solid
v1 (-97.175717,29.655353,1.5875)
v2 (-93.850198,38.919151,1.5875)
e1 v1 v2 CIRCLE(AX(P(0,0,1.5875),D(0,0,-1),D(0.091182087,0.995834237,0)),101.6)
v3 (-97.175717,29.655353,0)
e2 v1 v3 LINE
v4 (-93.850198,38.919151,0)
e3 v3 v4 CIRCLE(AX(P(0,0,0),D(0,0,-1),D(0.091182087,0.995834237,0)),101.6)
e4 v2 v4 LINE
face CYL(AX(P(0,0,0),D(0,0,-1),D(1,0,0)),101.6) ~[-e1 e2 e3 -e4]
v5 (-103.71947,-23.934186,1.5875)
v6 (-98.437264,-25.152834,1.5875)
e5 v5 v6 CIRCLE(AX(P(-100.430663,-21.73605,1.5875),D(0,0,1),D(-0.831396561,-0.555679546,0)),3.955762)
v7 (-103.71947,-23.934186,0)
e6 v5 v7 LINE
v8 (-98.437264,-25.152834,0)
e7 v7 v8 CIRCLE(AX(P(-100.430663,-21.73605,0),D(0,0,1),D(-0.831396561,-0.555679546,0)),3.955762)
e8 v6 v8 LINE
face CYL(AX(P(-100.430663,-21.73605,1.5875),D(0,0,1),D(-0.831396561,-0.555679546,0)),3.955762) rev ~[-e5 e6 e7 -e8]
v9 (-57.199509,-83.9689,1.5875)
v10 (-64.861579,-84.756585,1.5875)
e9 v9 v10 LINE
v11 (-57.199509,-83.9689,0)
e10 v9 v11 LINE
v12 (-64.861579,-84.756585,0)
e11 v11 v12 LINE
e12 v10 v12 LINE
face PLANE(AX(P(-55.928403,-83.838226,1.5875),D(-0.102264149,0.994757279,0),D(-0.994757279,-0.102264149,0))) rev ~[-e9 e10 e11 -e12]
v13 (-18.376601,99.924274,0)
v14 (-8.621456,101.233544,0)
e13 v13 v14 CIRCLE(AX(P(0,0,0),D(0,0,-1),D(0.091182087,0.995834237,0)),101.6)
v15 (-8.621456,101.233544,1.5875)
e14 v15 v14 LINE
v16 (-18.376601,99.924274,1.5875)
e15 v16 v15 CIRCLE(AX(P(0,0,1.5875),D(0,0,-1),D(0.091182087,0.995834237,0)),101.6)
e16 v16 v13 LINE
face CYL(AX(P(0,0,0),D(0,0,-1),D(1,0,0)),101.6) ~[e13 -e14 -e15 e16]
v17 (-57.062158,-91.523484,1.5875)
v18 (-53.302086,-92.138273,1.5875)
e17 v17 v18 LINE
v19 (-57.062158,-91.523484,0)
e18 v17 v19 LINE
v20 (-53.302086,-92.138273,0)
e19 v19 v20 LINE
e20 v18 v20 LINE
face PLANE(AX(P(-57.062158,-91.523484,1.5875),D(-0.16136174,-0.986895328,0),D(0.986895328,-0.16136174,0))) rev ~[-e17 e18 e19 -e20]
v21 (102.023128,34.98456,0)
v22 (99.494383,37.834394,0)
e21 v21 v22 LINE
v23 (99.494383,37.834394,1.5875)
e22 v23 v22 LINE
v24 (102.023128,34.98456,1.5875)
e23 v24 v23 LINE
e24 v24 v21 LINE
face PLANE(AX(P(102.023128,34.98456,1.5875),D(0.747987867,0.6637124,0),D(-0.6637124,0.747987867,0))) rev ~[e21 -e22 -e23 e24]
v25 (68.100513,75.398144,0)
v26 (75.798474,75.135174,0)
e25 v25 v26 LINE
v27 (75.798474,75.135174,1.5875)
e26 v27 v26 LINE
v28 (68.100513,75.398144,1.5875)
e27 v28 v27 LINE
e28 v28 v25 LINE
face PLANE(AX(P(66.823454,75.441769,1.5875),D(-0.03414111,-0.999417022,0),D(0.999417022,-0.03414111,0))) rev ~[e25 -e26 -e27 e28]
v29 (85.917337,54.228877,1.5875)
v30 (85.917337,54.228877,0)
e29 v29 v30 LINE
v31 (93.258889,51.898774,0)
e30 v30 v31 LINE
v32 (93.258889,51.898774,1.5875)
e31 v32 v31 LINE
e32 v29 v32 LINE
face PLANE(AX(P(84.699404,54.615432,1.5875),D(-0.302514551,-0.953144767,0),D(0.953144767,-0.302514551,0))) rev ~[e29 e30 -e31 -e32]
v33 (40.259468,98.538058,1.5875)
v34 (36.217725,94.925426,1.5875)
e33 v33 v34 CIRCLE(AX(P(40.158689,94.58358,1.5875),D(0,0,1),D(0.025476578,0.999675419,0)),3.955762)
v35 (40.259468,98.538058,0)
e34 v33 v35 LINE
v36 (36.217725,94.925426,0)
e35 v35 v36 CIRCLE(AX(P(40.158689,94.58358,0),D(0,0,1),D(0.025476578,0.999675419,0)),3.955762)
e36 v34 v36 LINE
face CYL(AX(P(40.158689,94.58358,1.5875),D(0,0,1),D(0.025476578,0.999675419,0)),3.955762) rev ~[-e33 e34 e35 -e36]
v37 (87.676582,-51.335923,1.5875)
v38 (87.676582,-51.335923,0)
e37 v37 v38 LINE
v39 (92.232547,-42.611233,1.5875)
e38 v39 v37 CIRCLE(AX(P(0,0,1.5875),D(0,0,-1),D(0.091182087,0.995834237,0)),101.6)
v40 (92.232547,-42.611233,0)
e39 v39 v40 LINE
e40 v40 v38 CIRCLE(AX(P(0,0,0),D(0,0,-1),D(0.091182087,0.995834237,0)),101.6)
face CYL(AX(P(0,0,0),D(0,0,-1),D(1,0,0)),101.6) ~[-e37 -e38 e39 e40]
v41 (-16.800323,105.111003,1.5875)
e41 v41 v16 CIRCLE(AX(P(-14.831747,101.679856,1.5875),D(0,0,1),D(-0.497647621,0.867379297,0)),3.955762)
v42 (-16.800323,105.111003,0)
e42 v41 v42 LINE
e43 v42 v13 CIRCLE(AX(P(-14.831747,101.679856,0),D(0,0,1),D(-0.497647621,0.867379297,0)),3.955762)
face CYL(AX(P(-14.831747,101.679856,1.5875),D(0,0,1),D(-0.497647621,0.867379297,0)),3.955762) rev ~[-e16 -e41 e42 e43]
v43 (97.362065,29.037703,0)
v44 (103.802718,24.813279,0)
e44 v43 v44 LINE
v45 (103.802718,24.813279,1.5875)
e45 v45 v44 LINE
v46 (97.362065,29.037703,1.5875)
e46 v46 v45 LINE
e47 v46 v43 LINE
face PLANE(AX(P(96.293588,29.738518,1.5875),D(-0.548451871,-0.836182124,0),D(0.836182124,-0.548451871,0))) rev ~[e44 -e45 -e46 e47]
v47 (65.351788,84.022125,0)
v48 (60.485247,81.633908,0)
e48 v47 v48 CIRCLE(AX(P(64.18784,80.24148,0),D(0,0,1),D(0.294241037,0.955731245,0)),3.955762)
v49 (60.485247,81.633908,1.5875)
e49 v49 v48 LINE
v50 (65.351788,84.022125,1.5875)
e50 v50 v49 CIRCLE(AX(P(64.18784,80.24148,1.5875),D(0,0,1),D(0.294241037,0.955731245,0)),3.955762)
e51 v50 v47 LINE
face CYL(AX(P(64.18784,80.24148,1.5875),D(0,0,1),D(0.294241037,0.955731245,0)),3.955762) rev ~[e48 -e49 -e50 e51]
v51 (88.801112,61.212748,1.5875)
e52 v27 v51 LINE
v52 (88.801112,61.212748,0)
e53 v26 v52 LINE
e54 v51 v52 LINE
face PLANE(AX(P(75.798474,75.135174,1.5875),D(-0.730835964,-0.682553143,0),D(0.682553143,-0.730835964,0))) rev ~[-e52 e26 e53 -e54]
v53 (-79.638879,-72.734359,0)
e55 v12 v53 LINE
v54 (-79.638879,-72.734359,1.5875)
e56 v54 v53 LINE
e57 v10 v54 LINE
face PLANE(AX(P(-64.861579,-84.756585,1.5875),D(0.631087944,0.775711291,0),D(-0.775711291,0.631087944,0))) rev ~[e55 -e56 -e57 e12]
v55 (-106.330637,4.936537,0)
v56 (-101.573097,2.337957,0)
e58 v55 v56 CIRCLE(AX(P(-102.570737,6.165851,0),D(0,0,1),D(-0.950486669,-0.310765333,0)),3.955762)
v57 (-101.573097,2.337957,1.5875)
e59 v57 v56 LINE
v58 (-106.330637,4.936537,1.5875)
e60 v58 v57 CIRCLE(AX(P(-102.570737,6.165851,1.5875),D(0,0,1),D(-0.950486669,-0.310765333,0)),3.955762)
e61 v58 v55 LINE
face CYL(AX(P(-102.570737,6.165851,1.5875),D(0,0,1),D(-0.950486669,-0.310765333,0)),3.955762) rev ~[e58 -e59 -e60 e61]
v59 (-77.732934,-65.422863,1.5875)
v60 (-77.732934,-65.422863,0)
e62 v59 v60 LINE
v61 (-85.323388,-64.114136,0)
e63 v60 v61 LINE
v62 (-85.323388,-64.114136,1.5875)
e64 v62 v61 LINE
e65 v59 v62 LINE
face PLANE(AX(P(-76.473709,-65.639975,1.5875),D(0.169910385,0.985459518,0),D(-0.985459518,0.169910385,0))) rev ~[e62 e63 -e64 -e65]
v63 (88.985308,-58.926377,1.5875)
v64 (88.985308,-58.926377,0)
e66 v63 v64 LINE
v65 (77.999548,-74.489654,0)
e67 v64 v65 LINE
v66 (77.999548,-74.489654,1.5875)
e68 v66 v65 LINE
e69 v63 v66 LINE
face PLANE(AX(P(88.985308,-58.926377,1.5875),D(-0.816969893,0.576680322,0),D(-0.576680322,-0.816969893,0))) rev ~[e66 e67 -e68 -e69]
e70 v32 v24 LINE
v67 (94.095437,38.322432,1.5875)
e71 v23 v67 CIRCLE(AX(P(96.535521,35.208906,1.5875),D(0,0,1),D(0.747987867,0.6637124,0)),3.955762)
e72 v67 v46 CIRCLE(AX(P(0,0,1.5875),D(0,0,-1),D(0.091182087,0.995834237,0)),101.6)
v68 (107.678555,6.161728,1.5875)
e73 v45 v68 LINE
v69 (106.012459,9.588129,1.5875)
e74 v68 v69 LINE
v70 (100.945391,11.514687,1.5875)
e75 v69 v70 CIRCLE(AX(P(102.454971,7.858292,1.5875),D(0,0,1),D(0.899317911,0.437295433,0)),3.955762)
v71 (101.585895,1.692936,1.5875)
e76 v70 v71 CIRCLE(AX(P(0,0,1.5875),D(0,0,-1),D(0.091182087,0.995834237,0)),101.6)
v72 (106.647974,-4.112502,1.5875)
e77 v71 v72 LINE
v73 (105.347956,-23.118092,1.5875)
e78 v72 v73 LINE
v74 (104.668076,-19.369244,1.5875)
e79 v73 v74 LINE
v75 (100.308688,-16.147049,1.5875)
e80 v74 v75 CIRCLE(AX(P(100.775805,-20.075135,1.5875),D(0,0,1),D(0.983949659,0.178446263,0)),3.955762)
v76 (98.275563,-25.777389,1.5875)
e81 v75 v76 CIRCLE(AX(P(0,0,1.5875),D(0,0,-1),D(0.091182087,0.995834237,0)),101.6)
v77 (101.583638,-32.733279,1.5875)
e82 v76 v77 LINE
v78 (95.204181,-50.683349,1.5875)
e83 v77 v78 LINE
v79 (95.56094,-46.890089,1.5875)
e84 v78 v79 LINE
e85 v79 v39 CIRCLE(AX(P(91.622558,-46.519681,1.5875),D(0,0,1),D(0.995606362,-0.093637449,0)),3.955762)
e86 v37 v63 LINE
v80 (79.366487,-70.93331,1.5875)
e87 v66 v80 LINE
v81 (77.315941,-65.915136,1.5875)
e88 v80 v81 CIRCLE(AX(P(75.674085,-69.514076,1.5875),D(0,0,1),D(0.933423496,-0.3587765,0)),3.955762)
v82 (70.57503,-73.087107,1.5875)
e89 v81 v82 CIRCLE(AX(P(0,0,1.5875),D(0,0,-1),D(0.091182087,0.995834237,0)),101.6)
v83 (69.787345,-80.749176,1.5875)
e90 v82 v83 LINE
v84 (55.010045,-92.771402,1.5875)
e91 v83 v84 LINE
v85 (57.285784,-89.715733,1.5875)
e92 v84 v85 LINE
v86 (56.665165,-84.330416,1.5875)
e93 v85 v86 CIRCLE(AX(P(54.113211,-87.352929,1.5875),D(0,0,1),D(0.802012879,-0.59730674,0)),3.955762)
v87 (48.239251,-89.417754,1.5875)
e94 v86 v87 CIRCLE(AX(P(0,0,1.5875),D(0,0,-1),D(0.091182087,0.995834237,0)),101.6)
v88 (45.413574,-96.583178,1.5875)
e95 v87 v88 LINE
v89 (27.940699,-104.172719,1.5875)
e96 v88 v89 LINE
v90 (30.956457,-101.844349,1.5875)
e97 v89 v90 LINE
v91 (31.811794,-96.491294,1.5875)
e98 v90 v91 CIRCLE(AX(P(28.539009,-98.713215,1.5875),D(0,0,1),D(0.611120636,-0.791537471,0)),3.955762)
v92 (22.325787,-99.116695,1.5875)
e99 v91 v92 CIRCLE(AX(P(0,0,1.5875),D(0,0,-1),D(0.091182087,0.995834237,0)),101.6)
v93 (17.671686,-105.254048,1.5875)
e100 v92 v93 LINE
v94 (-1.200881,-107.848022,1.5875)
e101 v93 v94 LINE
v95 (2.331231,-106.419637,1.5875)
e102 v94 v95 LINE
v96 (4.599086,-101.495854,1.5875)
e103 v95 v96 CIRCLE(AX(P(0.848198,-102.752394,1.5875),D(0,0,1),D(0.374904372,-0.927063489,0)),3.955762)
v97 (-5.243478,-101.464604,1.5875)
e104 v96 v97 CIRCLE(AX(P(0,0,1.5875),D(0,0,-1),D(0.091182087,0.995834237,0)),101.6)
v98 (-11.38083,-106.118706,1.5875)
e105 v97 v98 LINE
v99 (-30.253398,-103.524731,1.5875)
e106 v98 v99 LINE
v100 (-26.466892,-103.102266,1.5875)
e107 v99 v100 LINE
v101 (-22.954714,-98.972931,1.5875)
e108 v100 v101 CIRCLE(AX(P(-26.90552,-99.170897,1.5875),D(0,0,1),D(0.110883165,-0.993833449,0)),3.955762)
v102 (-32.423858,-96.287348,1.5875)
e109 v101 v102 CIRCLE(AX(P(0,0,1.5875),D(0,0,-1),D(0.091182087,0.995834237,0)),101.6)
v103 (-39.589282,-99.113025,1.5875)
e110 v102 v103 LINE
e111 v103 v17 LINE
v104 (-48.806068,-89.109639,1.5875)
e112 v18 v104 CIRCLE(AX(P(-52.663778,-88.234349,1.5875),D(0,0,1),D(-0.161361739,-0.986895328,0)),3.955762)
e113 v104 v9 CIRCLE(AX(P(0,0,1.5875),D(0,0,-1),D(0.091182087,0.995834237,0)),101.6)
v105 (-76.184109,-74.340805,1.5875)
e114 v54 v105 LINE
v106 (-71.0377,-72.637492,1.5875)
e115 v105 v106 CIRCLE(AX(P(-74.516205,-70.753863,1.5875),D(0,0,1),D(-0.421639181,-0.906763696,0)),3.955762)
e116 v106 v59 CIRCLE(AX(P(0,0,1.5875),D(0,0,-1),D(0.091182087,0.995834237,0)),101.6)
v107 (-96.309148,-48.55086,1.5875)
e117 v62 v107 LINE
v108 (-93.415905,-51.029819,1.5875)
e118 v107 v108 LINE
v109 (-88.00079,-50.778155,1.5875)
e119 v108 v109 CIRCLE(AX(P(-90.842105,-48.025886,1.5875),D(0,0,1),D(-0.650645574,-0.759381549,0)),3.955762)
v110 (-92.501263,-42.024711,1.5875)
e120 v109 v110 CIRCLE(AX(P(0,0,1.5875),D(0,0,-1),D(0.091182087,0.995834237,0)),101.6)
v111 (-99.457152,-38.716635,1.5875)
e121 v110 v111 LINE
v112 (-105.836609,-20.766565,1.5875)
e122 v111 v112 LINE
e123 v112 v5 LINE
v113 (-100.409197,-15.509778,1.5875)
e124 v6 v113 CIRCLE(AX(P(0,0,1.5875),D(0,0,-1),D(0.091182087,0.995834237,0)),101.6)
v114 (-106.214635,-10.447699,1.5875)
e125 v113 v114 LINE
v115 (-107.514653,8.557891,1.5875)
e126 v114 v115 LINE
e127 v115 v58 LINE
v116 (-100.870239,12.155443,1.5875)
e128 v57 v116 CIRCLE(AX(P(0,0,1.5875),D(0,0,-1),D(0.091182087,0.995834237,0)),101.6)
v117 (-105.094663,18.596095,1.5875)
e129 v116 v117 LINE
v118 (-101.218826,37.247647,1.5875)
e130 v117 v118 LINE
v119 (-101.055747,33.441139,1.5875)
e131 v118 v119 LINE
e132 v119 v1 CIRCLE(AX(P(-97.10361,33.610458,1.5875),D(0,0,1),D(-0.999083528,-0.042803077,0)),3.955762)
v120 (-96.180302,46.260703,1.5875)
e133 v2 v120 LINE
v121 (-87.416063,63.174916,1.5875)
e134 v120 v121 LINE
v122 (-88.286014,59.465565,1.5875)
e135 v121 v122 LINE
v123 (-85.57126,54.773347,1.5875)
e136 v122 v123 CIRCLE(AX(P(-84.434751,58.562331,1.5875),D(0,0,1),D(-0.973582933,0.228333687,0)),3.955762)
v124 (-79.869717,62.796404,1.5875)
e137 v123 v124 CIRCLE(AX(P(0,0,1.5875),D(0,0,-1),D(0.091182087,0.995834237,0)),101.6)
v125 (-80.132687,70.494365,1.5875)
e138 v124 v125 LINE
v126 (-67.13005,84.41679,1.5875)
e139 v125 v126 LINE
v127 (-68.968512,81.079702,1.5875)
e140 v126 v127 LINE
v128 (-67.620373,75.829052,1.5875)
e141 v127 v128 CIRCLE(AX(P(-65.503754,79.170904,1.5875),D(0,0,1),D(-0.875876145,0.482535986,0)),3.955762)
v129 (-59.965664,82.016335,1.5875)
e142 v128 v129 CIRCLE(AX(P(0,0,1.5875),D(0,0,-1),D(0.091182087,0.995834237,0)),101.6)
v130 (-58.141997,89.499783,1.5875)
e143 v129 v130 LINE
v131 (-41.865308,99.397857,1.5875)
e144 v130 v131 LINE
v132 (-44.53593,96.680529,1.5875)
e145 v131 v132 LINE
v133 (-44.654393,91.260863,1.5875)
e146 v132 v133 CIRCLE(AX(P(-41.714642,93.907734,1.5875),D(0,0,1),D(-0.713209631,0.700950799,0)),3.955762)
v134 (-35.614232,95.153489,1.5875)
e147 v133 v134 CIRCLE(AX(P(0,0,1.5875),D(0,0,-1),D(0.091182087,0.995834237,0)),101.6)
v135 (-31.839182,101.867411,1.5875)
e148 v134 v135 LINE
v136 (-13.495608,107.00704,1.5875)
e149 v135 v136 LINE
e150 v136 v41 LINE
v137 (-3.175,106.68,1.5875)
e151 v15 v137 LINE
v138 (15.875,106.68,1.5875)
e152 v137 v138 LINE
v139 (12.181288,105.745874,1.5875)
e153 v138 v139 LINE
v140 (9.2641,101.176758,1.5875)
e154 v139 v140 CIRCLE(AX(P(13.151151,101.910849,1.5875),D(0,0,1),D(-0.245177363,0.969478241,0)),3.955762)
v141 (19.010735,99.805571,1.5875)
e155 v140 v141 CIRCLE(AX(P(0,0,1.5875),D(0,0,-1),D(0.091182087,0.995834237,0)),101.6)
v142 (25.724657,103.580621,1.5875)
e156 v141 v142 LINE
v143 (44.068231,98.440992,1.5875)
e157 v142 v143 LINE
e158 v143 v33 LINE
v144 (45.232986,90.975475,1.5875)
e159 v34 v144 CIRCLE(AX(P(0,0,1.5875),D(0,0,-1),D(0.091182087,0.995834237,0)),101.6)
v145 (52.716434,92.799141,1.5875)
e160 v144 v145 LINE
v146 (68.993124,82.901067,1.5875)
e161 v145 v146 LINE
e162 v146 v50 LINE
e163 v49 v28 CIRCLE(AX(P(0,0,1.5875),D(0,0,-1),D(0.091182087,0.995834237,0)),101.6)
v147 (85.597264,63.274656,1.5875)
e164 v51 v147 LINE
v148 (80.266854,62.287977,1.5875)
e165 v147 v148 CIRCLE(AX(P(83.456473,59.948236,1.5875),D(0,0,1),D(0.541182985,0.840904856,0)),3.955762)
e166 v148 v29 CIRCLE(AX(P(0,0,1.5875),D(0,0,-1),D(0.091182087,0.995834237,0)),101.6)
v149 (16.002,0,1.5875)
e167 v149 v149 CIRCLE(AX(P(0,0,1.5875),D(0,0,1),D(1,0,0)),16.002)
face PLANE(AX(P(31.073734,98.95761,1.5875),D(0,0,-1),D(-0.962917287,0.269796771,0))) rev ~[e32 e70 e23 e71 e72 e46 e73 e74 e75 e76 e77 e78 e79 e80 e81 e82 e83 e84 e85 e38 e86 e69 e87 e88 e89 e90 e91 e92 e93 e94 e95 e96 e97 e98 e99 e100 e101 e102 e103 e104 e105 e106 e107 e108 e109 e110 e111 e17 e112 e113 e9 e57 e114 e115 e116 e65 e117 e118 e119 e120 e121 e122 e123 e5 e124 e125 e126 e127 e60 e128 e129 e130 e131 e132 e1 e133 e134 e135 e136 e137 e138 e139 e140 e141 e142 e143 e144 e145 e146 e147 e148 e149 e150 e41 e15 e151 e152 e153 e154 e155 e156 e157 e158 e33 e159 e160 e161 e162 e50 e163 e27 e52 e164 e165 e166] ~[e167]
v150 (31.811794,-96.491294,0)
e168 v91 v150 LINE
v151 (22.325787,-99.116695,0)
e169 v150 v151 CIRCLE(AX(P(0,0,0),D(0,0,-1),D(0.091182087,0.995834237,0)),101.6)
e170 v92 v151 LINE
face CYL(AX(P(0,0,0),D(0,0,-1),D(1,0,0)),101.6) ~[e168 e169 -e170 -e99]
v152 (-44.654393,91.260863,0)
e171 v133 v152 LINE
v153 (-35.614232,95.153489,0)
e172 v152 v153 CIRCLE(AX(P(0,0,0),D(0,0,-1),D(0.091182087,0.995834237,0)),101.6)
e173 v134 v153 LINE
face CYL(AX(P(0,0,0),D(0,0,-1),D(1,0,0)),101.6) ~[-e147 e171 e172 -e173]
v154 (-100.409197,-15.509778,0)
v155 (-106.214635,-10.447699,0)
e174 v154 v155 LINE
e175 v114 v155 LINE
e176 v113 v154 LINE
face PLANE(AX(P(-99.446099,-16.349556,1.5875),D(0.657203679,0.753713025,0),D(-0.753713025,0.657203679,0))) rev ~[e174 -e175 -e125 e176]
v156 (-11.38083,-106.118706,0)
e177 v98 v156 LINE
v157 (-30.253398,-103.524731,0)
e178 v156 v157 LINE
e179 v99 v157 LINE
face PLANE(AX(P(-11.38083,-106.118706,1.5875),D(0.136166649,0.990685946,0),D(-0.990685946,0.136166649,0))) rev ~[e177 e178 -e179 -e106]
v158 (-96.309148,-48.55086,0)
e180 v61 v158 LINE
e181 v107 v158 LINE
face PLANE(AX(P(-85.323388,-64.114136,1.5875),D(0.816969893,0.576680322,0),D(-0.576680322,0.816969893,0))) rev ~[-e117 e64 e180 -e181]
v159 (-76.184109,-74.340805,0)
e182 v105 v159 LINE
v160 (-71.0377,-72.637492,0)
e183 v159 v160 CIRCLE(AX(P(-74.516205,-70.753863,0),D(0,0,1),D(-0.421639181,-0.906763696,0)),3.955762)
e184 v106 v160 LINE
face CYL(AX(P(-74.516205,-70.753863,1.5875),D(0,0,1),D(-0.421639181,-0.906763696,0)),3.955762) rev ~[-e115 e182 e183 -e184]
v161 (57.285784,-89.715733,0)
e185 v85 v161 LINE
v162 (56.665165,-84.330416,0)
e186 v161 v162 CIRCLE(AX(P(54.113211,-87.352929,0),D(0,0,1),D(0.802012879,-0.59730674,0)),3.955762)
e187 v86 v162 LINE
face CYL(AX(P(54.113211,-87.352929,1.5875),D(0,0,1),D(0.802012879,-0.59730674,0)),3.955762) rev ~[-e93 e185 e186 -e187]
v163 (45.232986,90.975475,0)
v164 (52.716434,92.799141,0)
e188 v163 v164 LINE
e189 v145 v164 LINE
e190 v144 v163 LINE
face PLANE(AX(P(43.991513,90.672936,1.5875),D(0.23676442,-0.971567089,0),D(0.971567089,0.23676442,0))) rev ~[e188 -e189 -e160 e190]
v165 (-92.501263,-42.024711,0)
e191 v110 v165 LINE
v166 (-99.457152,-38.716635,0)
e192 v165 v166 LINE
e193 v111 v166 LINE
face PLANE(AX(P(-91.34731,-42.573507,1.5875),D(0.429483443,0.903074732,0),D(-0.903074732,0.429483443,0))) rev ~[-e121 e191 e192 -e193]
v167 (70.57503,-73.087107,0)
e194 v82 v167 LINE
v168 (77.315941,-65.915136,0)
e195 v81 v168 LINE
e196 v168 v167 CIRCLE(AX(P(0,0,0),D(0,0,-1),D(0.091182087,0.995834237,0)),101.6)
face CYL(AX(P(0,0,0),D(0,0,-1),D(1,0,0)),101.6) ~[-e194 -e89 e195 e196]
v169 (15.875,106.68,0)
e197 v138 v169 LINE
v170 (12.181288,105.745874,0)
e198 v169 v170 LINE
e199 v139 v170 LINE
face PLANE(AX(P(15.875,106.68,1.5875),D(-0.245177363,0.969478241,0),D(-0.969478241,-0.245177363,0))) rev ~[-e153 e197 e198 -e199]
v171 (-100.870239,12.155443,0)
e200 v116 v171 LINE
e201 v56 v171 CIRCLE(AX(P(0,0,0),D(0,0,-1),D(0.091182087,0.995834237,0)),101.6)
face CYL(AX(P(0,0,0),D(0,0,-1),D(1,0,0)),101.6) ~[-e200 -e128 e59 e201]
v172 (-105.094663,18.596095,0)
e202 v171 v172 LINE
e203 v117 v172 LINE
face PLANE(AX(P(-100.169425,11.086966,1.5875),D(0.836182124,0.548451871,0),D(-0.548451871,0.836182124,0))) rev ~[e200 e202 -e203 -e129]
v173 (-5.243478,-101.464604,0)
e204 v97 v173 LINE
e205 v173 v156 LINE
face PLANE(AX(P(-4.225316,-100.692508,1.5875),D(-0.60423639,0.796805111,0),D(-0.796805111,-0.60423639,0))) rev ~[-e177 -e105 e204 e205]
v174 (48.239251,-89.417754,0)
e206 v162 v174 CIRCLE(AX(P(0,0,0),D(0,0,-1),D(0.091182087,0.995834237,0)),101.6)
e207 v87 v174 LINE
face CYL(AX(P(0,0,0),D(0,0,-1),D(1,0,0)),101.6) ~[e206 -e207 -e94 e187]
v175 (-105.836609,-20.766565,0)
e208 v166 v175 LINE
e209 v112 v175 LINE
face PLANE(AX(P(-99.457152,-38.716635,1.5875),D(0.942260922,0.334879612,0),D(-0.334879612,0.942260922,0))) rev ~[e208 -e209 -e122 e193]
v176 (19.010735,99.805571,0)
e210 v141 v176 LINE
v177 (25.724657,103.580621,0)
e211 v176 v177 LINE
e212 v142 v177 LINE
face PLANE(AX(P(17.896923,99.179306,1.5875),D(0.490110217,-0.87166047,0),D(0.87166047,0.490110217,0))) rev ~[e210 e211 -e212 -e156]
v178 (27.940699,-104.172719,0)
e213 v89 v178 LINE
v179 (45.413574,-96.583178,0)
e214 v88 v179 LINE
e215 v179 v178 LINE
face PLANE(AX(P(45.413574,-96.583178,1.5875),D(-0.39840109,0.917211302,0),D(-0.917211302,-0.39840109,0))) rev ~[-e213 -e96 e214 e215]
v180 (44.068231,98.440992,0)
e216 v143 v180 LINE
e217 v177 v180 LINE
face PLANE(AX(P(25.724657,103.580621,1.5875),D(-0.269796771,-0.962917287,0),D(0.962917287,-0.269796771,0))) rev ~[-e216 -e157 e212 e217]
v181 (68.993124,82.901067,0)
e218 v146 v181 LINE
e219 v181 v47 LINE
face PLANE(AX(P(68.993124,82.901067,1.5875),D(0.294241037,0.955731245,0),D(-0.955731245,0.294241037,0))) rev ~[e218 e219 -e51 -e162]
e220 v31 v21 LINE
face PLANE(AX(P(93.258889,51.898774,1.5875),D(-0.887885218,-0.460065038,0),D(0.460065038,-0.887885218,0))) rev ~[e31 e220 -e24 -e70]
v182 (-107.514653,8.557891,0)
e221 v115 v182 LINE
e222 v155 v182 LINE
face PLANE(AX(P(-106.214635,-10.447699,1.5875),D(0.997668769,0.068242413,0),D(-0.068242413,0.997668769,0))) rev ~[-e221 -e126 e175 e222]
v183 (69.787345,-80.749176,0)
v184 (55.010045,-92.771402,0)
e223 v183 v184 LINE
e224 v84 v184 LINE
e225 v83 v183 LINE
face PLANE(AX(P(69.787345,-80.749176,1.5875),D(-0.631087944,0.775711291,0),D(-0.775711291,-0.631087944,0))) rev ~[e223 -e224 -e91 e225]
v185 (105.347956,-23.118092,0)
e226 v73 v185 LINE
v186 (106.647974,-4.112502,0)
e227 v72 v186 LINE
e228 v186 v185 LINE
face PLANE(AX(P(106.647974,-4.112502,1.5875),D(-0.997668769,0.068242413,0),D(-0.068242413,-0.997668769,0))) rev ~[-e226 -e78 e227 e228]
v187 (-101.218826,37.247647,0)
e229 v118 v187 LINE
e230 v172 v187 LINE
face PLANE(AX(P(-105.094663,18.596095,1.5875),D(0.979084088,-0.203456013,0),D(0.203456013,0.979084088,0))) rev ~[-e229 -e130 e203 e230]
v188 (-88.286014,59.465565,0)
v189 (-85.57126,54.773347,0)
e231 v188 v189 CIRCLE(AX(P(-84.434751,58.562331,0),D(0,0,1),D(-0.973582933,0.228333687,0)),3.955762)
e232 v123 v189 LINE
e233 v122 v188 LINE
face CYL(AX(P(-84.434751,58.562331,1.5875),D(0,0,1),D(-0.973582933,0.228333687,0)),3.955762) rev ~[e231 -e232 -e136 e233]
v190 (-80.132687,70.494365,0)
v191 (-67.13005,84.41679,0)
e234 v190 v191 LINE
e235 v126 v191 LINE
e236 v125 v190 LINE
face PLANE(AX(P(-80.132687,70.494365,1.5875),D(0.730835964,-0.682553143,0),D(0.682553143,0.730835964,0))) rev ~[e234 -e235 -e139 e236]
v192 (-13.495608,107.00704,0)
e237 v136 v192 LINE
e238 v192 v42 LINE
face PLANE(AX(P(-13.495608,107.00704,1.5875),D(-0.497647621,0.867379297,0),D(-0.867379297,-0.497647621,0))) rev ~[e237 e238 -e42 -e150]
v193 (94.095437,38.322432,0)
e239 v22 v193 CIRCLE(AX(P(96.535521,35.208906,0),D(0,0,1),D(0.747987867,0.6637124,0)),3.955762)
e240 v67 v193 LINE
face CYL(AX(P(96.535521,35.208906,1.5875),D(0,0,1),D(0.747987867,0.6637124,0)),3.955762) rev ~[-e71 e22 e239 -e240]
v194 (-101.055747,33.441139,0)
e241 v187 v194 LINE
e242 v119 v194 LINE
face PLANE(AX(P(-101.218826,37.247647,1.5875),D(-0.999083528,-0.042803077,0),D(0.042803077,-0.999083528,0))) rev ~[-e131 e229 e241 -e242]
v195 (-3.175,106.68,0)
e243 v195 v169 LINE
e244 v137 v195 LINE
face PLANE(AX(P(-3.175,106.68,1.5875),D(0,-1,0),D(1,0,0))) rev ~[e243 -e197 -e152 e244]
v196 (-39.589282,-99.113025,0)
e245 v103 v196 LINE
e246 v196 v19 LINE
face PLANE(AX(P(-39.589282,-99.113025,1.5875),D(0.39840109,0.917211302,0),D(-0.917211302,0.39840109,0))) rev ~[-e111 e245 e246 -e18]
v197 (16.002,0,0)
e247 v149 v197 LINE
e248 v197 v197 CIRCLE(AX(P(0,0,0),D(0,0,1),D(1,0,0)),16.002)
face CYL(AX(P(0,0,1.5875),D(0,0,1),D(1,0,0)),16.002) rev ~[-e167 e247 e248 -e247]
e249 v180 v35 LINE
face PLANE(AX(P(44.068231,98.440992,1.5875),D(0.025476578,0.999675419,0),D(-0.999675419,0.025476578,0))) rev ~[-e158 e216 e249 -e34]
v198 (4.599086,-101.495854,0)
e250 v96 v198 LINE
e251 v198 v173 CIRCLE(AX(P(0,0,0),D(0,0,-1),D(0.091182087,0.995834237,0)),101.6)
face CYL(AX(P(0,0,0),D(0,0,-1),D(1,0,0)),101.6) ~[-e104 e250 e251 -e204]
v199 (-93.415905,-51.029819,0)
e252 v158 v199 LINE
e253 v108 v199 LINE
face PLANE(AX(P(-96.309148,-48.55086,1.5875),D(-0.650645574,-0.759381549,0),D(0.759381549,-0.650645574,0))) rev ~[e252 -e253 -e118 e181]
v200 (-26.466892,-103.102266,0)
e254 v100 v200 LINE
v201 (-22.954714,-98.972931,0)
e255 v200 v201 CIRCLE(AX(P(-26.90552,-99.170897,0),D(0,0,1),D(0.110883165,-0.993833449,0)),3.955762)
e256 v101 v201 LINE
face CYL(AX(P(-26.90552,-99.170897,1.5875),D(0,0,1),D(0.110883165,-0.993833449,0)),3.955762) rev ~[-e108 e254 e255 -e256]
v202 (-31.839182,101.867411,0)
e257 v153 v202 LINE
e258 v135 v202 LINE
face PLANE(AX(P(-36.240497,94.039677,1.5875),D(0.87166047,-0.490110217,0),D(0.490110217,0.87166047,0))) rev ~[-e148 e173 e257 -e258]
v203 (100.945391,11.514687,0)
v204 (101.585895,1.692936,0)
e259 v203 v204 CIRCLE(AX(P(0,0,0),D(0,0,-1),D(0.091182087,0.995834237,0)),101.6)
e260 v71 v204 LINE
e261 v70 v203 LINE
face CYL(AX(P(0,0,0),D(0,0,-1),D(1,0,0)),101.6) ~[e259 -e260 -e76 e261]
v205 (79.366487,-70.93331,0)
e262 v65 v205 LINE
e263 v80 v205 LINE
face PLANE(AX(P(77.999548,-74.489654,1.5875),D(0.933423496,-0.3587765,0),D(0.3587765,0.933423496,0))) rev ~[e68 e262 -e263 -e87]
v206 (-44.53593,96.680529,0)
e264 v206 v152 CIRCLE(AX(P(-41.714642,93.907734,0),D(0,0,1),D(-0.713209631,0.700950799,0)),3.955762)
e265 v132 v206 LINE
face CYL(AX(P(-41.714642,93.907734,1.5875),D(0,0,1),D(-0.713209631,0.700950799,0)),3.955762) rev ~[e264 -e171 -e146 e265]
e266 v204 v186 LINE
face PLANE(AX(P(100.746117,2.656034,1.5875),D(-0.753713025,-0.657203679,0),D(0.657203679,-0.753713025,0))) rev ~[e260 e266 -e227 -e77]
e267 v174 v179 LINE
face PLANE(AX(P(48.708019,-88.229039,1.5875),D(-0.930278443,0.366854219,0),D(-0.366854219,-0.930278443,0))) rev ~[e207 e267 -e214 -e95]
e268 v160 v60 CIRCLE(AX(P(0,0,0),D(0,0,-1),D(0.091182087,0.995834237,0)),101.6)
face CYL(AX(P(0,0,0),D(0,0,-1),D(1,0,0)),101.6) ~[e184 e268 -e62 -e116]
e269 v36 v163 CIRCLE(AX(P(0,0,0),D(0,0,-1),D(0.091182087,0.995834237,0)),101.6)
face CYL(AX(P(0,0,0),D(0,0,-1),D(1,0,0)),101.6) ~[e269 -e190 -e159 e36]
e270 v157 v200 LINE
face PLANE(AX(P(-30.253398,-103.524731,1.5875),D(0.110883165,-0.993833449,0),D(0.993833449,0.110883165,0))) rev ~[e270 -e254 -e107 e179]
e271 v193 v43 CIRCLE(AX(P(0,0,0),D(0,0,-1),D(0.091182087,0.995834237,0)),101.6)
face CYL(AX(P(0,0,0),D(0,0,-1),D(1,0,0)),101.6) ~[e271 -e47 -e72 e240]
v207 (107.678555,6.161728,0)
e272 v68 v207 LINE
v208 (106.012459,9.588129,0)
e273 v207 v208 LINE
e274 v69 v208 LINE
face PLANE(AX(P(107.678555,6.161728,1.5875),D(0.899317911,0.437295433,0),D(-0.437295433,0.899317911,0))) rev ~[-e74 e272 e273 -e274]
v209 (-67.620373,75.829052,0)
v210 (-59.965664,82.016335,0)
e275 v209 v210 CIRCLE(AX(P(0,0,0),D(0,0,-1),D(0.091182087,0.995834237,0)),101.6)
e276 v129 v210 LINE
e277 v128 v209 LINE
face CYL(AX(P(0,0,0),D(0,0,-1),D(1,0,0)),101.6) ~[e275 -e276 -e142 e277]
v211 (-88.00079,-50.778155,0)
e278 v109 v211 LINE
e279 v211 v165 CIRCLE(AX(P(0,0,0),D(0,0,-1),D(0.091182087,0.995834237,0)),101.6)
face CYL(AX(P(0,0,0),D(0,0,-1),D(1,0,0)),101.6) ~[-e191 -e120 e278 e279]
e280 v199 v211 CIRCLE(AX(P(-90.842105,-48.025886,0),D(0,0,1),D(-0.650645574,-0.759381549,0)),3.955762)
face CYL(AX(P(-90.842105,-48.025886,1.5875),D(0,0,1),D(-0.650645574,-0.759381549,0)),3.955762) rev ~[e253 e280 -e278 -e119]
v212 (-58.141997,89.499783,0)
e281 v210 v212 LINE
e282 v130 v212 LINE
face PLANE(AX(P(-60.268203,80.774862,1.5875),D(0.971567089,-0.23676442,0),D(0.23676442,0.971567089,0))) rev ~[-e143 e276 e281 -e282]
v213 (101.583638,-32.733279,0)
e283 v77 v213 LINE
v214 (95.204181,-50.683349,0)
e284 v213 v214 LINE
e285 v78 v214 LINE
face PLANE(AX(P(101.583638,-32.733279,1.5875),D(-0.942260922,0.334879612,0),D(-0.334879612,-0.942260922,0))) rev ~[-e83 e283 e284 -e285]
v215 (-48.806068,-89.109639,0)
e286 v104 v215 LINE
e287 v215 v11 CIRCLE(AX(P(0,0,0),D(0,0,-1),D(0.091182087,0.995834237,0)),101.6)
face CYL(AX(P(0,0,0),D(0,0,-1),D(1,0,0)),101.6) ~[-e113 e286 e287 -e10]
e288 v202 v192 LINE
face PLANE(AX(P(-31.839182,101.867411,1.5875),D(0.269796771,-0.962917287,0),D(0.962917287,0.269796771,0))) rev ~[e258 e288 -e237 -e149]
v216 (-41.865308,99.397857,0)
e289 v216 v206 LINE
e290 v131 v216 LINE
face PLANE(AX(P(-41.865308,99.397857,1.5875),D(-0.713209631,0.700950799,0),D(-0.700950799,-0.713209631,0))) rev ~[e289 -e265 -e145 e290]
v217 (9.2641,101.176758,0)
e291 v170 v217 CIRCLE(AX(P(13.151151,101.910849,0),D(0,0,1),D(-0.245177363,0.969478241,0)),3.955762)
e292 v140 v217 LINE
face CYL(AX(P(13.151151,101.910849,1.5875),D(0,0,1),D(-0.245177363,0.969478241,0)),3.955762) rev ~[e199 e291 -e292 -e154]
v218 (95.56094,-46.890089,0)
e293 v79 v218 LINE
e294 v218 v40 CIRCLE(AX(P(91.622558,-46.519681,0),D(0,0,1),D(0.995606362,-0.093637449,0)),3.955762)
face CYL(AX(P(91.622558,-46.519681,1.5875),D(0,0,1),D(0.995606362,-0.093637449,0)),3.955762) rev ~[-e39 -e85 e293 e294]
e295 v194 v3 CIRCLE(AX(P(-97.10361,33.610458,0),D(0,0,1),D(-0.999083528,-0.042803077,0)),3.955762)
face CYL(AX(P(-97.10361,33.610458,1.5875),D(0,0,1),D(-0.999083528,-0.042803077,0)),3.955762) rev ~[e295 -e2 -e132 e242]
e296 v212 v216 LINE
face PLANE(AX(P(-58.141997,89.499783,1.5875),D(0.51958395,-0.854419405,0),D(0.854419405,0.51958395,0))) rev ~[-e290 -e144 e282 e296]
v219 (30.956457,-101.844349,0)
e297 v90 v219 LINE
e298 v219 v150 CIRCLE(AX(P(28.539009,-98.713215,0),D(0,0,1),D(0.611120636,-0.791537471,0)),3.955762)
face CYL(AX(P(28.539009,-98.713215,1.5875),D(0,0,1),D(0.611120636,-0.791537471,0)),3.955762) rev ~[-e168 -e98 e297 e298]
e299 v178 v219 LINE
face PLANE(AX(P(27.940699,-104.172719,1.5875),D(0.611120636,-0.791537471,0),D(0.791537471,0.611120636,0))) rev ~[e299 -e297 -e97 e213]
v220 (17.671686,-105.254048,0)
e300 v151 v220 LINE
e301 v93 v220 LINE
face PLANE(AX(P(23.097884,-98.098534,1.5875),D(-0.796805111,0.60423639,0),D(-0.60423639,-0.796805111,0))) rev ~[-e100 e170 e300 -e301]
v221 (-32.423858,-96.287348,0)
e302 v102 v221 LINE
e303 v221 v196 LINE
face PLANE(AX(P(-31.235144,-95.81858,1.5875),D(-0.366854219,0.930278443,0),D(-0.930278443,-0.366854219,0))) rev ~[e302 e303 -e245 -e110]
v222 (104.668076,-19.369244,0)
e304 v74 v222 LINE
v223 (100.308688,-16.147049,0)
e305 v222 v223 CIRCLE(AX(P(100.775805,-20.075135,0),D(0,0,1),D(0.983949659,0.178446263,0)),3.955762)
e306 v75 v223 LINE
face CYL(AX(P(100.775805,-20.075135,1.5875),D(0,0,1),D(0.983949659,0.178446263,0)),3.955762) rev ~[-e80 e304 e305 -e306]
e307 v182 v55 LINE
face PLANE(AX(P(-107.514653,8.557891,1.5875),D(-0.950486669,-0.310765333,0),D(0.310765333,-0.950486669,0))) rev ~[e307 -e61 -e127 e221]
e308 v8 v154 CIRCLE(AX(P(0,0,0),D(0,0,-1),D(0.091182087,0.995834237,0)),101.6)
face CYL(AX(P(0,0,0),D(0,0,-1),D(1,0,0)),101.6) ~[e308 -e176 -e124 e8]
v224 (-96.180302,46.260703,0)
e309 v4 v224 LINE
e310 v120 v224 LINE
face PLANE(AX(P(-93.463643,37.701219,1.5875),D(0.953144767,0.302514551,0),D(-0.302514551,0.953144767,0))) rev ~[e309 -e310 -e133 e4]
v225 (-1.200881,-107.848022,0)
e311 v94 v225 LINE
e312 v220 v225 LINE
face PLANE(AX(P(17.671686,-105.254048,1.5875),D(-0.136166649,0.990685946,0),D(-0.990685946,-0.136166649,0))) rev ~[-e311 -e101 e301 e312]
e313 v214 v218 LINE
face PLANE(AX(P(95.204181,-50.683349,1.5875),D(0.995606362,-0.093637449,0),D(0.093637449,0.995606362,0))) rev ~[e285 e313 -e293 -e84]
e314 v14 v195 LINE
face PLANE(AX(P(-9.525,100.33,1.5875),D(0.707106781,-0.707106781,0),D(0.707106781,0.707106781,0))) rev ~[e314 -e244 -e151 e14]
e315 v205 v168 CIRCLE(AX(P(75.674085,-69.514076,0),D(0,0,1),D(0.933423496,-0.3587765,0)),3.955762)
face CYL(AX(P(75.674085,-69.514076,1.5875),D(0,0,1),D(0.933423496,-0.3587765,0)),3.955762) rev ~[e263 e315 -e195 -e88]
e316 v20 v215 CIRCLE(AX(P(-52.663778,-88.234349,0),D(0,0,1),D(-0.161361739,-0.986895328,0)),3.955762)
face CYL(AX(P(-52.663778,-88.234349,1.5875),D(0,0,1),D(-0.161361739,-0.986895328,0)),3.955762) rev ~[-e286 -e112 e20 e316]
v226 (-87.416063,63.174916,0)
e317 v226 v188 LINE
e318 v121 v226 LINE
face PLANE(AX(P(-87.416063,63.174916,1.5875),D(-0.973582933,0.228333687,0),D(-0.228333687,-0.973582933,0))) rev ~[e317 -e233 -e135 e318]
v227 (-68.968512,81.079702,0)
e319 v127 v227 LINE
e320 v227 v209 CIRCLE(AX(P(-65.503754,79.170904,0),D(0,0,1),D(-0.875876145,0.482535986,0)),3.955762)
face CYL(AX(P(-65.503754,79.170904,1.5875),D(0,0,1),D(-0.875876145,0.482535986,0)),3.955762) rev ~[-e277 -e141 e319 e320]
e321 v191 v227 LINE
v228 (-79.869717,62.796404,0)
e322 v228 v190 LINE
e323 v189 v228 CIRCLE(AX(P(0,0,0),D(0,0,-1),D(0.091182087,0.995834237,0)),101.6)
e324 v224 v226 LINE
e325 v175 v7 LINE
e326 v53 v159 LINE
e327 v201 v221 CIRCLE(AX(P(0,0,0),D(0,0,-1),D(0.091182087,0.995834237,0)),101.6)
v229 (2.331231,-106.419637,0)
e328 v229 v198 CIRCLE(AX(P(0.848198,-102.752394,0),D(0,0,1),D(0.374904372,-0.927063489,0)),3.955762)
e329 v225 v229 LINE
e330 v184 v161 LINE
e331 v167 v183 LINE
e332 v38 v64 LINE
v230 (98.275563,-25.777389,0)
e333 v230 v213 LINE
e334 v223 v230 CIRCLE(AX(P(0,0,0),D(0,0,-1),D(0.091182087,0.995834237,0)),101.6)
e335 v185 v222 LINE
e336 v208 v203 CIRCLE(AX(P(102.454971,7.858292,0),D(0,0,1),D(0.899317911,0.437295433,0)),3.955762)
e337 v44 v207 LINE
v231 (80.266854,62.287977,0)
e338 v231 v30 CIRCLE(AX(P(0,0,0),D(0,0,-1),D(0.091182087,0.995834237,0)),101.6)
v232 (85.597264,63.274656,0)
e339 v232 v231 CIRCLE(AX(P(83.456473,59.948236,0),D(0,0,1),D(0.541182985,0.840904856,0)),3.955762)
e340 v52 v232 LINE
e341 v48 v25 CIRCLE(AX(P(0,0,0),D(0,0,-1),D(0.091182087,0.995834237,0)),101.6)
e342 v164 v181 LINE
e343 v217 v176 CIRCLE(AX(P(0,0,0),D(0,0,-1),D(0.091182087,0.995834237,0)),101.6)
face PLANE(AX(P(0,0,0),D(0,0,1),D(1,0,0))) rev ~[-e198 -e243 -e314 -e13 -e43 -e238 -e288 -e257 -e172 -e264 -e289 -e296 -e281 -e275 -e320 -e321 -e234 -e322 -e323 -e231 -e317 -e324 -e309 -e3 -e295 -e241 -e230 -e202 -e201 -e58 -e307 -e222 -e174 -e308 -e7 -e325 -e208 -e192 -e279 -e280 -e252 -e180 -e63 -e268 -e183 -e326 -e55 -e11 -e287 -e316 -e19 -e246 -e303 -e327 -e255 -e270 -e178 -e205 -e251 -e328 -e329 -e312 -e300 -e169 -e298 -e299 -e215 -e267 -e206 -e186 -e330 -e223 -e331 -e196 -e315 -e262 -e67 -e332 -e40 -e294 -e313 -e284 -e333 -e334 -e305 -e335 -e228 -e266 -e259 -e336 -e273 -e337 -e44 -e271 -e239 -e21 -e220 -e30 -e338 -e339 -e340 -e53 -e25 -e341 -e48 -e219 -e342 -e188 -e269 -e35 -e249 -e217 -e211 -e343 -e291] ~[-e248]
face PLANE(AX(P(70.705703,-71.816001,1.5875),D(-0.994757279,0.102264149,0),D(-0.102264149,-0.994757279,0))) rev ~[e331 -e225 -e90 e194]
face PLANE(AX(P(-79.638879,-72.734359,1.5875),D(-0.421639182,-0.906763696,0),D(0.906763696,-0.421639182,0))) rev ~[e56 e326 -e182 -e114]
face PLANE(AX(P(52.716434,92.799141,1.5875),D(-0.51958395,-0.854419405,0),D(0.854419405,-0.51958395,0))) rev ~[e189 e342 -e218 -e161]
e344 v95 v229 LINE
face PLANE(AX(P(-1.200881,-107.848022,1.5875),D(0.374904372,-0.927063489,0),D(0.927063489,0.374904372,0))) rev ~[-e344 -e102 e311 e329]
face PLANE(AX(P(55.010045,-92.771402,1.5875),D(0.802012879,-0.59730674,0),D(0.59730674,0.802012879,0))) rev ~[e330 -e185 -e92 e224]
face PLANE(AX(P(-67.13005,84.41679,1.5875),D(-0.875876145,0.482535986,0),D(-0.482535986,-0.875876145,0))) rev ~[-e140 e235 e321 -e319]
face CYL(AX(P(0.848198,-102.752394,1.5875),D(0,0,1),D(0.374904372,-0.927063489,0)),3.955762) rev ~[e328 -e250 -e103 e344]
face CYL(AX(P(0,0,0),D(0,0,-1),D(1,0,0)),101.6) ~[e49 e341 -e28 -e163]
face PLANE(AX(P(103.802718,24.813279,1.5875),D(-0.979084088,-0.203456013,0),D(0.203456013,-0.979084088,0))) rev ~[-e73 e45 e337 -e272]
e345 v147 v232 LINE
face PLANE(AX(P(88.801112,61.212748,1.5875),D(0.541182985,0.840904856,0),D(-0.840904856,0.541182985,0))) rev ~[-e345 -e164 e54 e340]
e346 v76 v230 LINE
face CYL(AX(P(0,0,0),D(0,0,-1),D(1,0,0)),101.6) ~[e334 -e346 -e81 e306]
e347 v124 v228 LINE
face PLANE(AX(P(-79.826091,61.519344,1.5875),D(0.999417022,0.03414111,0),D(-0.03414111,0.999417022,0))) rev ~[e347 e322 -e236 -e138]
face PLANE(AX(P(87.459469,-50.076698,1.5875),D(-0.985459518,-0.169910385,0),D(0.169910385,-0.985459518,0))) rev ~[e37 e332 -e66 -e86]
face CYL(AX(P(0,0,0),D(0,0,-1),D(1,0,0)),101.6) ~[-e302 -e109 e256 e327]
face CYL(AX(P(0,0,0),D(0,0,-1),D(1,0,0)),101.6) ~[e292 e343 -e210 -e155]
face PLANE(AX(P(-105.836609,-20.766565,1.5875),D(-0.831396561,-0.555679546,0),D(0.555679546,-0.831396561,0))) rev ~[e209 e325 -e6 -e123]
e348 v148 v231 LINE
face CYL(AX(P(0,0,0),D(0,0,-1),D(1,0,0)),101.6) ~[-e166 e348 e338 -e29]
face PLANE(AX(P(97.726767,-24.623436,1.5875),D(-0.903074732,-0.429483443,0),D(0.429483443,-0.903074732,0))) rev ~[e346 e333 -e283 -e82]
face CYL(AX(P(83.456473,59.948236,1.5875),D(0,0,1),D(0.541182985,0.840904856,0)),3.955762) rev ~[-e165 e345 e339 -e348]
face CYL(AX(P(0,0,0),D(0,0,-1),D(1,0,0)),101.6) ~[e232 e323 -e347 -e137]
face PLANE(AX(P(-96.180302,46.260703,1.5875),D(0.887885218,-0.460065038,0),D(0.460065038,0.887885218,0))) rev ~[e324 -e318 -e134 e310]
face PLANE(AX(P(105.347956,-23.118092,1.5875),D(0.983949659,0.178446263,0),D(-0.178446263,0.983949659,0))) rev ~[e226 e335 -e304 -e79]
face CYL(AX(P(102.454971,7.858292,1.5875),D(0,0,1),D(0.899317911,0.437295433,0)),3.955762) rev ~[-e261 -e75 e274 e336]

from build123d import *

# Parameters (mm, degrees)
SKETCH1_R           = 101.6
BOSS_EXTRUDE1_DEPTH = 1.5875
CUT_EXTRUDE1_REACH  = 145.693
SKETCH2_R           = 16.002
BOSS_EXTRUDE2_DEPTH = 1.5875
CIRPATTERN1_COUNT   = 23


with BuildPart() as part:
    # Sketch1 → Boss-Extrude1 (new body)
    with BuildSketch(Plane.XY):
        Circle(SKETCH1_R)
    extrude(amount=BOSS_EXTRUDE1_DEPTH)

    # Sketch2 → Cut-Extrude1 (cut, up to next)
    with BuildSketch(Plane.XY.offset(1.5875), mode=Mode.PRIVATE) as cut_extrude1_sk1:
        Circle(SKETCH2_R)
    cut_extrude1_tool1 = extrude(cut_extrude1_sk1.sketch, amount=-CUT_EXTRUDE1_REACH, mode=Mode.PRIVATE) & part.part
    add(cut_extrude1_tool1.solids().sort_by_distance((0, 0, 1.5875))[0], mode=Mode.SUBTRACT)

    # Sketch4 → Boss-Extrude2 (add)
    with BuildSketch(Plane.XY.offset(1.5875)):
        with BuildLine():
            Line((-9.525, 100.33), (-3.175, 106.68))
            Line((-3.175, 106.68), (15.875, 106.68))
            Line((15.875, 106.68), (12.1812879, 105.745874246))
            ThreePointArc((12.1812879, 105.745874246), (9.599565558, 103.652771398), (9.525, 100.33))
            Line((9.525, 100.33), (-9.525, 100.33))
        make_face()
    boss_extrude2 = extrude(amount=-BOSS_EXTRUDE2_DEPTH)

    # CirPattern1: Boss-Extrude2 ×23 about axis
    cirpattern1_axis = Axis((0, 0, 0), (0, 0, 1))
    for i in range(1, CIRPATTERN1_COUNT):
        add(boss_extrude2.rotate(cirpattern1_axis, i * 360 / CIRPATTERN1_COUNT))


solid = part.part
